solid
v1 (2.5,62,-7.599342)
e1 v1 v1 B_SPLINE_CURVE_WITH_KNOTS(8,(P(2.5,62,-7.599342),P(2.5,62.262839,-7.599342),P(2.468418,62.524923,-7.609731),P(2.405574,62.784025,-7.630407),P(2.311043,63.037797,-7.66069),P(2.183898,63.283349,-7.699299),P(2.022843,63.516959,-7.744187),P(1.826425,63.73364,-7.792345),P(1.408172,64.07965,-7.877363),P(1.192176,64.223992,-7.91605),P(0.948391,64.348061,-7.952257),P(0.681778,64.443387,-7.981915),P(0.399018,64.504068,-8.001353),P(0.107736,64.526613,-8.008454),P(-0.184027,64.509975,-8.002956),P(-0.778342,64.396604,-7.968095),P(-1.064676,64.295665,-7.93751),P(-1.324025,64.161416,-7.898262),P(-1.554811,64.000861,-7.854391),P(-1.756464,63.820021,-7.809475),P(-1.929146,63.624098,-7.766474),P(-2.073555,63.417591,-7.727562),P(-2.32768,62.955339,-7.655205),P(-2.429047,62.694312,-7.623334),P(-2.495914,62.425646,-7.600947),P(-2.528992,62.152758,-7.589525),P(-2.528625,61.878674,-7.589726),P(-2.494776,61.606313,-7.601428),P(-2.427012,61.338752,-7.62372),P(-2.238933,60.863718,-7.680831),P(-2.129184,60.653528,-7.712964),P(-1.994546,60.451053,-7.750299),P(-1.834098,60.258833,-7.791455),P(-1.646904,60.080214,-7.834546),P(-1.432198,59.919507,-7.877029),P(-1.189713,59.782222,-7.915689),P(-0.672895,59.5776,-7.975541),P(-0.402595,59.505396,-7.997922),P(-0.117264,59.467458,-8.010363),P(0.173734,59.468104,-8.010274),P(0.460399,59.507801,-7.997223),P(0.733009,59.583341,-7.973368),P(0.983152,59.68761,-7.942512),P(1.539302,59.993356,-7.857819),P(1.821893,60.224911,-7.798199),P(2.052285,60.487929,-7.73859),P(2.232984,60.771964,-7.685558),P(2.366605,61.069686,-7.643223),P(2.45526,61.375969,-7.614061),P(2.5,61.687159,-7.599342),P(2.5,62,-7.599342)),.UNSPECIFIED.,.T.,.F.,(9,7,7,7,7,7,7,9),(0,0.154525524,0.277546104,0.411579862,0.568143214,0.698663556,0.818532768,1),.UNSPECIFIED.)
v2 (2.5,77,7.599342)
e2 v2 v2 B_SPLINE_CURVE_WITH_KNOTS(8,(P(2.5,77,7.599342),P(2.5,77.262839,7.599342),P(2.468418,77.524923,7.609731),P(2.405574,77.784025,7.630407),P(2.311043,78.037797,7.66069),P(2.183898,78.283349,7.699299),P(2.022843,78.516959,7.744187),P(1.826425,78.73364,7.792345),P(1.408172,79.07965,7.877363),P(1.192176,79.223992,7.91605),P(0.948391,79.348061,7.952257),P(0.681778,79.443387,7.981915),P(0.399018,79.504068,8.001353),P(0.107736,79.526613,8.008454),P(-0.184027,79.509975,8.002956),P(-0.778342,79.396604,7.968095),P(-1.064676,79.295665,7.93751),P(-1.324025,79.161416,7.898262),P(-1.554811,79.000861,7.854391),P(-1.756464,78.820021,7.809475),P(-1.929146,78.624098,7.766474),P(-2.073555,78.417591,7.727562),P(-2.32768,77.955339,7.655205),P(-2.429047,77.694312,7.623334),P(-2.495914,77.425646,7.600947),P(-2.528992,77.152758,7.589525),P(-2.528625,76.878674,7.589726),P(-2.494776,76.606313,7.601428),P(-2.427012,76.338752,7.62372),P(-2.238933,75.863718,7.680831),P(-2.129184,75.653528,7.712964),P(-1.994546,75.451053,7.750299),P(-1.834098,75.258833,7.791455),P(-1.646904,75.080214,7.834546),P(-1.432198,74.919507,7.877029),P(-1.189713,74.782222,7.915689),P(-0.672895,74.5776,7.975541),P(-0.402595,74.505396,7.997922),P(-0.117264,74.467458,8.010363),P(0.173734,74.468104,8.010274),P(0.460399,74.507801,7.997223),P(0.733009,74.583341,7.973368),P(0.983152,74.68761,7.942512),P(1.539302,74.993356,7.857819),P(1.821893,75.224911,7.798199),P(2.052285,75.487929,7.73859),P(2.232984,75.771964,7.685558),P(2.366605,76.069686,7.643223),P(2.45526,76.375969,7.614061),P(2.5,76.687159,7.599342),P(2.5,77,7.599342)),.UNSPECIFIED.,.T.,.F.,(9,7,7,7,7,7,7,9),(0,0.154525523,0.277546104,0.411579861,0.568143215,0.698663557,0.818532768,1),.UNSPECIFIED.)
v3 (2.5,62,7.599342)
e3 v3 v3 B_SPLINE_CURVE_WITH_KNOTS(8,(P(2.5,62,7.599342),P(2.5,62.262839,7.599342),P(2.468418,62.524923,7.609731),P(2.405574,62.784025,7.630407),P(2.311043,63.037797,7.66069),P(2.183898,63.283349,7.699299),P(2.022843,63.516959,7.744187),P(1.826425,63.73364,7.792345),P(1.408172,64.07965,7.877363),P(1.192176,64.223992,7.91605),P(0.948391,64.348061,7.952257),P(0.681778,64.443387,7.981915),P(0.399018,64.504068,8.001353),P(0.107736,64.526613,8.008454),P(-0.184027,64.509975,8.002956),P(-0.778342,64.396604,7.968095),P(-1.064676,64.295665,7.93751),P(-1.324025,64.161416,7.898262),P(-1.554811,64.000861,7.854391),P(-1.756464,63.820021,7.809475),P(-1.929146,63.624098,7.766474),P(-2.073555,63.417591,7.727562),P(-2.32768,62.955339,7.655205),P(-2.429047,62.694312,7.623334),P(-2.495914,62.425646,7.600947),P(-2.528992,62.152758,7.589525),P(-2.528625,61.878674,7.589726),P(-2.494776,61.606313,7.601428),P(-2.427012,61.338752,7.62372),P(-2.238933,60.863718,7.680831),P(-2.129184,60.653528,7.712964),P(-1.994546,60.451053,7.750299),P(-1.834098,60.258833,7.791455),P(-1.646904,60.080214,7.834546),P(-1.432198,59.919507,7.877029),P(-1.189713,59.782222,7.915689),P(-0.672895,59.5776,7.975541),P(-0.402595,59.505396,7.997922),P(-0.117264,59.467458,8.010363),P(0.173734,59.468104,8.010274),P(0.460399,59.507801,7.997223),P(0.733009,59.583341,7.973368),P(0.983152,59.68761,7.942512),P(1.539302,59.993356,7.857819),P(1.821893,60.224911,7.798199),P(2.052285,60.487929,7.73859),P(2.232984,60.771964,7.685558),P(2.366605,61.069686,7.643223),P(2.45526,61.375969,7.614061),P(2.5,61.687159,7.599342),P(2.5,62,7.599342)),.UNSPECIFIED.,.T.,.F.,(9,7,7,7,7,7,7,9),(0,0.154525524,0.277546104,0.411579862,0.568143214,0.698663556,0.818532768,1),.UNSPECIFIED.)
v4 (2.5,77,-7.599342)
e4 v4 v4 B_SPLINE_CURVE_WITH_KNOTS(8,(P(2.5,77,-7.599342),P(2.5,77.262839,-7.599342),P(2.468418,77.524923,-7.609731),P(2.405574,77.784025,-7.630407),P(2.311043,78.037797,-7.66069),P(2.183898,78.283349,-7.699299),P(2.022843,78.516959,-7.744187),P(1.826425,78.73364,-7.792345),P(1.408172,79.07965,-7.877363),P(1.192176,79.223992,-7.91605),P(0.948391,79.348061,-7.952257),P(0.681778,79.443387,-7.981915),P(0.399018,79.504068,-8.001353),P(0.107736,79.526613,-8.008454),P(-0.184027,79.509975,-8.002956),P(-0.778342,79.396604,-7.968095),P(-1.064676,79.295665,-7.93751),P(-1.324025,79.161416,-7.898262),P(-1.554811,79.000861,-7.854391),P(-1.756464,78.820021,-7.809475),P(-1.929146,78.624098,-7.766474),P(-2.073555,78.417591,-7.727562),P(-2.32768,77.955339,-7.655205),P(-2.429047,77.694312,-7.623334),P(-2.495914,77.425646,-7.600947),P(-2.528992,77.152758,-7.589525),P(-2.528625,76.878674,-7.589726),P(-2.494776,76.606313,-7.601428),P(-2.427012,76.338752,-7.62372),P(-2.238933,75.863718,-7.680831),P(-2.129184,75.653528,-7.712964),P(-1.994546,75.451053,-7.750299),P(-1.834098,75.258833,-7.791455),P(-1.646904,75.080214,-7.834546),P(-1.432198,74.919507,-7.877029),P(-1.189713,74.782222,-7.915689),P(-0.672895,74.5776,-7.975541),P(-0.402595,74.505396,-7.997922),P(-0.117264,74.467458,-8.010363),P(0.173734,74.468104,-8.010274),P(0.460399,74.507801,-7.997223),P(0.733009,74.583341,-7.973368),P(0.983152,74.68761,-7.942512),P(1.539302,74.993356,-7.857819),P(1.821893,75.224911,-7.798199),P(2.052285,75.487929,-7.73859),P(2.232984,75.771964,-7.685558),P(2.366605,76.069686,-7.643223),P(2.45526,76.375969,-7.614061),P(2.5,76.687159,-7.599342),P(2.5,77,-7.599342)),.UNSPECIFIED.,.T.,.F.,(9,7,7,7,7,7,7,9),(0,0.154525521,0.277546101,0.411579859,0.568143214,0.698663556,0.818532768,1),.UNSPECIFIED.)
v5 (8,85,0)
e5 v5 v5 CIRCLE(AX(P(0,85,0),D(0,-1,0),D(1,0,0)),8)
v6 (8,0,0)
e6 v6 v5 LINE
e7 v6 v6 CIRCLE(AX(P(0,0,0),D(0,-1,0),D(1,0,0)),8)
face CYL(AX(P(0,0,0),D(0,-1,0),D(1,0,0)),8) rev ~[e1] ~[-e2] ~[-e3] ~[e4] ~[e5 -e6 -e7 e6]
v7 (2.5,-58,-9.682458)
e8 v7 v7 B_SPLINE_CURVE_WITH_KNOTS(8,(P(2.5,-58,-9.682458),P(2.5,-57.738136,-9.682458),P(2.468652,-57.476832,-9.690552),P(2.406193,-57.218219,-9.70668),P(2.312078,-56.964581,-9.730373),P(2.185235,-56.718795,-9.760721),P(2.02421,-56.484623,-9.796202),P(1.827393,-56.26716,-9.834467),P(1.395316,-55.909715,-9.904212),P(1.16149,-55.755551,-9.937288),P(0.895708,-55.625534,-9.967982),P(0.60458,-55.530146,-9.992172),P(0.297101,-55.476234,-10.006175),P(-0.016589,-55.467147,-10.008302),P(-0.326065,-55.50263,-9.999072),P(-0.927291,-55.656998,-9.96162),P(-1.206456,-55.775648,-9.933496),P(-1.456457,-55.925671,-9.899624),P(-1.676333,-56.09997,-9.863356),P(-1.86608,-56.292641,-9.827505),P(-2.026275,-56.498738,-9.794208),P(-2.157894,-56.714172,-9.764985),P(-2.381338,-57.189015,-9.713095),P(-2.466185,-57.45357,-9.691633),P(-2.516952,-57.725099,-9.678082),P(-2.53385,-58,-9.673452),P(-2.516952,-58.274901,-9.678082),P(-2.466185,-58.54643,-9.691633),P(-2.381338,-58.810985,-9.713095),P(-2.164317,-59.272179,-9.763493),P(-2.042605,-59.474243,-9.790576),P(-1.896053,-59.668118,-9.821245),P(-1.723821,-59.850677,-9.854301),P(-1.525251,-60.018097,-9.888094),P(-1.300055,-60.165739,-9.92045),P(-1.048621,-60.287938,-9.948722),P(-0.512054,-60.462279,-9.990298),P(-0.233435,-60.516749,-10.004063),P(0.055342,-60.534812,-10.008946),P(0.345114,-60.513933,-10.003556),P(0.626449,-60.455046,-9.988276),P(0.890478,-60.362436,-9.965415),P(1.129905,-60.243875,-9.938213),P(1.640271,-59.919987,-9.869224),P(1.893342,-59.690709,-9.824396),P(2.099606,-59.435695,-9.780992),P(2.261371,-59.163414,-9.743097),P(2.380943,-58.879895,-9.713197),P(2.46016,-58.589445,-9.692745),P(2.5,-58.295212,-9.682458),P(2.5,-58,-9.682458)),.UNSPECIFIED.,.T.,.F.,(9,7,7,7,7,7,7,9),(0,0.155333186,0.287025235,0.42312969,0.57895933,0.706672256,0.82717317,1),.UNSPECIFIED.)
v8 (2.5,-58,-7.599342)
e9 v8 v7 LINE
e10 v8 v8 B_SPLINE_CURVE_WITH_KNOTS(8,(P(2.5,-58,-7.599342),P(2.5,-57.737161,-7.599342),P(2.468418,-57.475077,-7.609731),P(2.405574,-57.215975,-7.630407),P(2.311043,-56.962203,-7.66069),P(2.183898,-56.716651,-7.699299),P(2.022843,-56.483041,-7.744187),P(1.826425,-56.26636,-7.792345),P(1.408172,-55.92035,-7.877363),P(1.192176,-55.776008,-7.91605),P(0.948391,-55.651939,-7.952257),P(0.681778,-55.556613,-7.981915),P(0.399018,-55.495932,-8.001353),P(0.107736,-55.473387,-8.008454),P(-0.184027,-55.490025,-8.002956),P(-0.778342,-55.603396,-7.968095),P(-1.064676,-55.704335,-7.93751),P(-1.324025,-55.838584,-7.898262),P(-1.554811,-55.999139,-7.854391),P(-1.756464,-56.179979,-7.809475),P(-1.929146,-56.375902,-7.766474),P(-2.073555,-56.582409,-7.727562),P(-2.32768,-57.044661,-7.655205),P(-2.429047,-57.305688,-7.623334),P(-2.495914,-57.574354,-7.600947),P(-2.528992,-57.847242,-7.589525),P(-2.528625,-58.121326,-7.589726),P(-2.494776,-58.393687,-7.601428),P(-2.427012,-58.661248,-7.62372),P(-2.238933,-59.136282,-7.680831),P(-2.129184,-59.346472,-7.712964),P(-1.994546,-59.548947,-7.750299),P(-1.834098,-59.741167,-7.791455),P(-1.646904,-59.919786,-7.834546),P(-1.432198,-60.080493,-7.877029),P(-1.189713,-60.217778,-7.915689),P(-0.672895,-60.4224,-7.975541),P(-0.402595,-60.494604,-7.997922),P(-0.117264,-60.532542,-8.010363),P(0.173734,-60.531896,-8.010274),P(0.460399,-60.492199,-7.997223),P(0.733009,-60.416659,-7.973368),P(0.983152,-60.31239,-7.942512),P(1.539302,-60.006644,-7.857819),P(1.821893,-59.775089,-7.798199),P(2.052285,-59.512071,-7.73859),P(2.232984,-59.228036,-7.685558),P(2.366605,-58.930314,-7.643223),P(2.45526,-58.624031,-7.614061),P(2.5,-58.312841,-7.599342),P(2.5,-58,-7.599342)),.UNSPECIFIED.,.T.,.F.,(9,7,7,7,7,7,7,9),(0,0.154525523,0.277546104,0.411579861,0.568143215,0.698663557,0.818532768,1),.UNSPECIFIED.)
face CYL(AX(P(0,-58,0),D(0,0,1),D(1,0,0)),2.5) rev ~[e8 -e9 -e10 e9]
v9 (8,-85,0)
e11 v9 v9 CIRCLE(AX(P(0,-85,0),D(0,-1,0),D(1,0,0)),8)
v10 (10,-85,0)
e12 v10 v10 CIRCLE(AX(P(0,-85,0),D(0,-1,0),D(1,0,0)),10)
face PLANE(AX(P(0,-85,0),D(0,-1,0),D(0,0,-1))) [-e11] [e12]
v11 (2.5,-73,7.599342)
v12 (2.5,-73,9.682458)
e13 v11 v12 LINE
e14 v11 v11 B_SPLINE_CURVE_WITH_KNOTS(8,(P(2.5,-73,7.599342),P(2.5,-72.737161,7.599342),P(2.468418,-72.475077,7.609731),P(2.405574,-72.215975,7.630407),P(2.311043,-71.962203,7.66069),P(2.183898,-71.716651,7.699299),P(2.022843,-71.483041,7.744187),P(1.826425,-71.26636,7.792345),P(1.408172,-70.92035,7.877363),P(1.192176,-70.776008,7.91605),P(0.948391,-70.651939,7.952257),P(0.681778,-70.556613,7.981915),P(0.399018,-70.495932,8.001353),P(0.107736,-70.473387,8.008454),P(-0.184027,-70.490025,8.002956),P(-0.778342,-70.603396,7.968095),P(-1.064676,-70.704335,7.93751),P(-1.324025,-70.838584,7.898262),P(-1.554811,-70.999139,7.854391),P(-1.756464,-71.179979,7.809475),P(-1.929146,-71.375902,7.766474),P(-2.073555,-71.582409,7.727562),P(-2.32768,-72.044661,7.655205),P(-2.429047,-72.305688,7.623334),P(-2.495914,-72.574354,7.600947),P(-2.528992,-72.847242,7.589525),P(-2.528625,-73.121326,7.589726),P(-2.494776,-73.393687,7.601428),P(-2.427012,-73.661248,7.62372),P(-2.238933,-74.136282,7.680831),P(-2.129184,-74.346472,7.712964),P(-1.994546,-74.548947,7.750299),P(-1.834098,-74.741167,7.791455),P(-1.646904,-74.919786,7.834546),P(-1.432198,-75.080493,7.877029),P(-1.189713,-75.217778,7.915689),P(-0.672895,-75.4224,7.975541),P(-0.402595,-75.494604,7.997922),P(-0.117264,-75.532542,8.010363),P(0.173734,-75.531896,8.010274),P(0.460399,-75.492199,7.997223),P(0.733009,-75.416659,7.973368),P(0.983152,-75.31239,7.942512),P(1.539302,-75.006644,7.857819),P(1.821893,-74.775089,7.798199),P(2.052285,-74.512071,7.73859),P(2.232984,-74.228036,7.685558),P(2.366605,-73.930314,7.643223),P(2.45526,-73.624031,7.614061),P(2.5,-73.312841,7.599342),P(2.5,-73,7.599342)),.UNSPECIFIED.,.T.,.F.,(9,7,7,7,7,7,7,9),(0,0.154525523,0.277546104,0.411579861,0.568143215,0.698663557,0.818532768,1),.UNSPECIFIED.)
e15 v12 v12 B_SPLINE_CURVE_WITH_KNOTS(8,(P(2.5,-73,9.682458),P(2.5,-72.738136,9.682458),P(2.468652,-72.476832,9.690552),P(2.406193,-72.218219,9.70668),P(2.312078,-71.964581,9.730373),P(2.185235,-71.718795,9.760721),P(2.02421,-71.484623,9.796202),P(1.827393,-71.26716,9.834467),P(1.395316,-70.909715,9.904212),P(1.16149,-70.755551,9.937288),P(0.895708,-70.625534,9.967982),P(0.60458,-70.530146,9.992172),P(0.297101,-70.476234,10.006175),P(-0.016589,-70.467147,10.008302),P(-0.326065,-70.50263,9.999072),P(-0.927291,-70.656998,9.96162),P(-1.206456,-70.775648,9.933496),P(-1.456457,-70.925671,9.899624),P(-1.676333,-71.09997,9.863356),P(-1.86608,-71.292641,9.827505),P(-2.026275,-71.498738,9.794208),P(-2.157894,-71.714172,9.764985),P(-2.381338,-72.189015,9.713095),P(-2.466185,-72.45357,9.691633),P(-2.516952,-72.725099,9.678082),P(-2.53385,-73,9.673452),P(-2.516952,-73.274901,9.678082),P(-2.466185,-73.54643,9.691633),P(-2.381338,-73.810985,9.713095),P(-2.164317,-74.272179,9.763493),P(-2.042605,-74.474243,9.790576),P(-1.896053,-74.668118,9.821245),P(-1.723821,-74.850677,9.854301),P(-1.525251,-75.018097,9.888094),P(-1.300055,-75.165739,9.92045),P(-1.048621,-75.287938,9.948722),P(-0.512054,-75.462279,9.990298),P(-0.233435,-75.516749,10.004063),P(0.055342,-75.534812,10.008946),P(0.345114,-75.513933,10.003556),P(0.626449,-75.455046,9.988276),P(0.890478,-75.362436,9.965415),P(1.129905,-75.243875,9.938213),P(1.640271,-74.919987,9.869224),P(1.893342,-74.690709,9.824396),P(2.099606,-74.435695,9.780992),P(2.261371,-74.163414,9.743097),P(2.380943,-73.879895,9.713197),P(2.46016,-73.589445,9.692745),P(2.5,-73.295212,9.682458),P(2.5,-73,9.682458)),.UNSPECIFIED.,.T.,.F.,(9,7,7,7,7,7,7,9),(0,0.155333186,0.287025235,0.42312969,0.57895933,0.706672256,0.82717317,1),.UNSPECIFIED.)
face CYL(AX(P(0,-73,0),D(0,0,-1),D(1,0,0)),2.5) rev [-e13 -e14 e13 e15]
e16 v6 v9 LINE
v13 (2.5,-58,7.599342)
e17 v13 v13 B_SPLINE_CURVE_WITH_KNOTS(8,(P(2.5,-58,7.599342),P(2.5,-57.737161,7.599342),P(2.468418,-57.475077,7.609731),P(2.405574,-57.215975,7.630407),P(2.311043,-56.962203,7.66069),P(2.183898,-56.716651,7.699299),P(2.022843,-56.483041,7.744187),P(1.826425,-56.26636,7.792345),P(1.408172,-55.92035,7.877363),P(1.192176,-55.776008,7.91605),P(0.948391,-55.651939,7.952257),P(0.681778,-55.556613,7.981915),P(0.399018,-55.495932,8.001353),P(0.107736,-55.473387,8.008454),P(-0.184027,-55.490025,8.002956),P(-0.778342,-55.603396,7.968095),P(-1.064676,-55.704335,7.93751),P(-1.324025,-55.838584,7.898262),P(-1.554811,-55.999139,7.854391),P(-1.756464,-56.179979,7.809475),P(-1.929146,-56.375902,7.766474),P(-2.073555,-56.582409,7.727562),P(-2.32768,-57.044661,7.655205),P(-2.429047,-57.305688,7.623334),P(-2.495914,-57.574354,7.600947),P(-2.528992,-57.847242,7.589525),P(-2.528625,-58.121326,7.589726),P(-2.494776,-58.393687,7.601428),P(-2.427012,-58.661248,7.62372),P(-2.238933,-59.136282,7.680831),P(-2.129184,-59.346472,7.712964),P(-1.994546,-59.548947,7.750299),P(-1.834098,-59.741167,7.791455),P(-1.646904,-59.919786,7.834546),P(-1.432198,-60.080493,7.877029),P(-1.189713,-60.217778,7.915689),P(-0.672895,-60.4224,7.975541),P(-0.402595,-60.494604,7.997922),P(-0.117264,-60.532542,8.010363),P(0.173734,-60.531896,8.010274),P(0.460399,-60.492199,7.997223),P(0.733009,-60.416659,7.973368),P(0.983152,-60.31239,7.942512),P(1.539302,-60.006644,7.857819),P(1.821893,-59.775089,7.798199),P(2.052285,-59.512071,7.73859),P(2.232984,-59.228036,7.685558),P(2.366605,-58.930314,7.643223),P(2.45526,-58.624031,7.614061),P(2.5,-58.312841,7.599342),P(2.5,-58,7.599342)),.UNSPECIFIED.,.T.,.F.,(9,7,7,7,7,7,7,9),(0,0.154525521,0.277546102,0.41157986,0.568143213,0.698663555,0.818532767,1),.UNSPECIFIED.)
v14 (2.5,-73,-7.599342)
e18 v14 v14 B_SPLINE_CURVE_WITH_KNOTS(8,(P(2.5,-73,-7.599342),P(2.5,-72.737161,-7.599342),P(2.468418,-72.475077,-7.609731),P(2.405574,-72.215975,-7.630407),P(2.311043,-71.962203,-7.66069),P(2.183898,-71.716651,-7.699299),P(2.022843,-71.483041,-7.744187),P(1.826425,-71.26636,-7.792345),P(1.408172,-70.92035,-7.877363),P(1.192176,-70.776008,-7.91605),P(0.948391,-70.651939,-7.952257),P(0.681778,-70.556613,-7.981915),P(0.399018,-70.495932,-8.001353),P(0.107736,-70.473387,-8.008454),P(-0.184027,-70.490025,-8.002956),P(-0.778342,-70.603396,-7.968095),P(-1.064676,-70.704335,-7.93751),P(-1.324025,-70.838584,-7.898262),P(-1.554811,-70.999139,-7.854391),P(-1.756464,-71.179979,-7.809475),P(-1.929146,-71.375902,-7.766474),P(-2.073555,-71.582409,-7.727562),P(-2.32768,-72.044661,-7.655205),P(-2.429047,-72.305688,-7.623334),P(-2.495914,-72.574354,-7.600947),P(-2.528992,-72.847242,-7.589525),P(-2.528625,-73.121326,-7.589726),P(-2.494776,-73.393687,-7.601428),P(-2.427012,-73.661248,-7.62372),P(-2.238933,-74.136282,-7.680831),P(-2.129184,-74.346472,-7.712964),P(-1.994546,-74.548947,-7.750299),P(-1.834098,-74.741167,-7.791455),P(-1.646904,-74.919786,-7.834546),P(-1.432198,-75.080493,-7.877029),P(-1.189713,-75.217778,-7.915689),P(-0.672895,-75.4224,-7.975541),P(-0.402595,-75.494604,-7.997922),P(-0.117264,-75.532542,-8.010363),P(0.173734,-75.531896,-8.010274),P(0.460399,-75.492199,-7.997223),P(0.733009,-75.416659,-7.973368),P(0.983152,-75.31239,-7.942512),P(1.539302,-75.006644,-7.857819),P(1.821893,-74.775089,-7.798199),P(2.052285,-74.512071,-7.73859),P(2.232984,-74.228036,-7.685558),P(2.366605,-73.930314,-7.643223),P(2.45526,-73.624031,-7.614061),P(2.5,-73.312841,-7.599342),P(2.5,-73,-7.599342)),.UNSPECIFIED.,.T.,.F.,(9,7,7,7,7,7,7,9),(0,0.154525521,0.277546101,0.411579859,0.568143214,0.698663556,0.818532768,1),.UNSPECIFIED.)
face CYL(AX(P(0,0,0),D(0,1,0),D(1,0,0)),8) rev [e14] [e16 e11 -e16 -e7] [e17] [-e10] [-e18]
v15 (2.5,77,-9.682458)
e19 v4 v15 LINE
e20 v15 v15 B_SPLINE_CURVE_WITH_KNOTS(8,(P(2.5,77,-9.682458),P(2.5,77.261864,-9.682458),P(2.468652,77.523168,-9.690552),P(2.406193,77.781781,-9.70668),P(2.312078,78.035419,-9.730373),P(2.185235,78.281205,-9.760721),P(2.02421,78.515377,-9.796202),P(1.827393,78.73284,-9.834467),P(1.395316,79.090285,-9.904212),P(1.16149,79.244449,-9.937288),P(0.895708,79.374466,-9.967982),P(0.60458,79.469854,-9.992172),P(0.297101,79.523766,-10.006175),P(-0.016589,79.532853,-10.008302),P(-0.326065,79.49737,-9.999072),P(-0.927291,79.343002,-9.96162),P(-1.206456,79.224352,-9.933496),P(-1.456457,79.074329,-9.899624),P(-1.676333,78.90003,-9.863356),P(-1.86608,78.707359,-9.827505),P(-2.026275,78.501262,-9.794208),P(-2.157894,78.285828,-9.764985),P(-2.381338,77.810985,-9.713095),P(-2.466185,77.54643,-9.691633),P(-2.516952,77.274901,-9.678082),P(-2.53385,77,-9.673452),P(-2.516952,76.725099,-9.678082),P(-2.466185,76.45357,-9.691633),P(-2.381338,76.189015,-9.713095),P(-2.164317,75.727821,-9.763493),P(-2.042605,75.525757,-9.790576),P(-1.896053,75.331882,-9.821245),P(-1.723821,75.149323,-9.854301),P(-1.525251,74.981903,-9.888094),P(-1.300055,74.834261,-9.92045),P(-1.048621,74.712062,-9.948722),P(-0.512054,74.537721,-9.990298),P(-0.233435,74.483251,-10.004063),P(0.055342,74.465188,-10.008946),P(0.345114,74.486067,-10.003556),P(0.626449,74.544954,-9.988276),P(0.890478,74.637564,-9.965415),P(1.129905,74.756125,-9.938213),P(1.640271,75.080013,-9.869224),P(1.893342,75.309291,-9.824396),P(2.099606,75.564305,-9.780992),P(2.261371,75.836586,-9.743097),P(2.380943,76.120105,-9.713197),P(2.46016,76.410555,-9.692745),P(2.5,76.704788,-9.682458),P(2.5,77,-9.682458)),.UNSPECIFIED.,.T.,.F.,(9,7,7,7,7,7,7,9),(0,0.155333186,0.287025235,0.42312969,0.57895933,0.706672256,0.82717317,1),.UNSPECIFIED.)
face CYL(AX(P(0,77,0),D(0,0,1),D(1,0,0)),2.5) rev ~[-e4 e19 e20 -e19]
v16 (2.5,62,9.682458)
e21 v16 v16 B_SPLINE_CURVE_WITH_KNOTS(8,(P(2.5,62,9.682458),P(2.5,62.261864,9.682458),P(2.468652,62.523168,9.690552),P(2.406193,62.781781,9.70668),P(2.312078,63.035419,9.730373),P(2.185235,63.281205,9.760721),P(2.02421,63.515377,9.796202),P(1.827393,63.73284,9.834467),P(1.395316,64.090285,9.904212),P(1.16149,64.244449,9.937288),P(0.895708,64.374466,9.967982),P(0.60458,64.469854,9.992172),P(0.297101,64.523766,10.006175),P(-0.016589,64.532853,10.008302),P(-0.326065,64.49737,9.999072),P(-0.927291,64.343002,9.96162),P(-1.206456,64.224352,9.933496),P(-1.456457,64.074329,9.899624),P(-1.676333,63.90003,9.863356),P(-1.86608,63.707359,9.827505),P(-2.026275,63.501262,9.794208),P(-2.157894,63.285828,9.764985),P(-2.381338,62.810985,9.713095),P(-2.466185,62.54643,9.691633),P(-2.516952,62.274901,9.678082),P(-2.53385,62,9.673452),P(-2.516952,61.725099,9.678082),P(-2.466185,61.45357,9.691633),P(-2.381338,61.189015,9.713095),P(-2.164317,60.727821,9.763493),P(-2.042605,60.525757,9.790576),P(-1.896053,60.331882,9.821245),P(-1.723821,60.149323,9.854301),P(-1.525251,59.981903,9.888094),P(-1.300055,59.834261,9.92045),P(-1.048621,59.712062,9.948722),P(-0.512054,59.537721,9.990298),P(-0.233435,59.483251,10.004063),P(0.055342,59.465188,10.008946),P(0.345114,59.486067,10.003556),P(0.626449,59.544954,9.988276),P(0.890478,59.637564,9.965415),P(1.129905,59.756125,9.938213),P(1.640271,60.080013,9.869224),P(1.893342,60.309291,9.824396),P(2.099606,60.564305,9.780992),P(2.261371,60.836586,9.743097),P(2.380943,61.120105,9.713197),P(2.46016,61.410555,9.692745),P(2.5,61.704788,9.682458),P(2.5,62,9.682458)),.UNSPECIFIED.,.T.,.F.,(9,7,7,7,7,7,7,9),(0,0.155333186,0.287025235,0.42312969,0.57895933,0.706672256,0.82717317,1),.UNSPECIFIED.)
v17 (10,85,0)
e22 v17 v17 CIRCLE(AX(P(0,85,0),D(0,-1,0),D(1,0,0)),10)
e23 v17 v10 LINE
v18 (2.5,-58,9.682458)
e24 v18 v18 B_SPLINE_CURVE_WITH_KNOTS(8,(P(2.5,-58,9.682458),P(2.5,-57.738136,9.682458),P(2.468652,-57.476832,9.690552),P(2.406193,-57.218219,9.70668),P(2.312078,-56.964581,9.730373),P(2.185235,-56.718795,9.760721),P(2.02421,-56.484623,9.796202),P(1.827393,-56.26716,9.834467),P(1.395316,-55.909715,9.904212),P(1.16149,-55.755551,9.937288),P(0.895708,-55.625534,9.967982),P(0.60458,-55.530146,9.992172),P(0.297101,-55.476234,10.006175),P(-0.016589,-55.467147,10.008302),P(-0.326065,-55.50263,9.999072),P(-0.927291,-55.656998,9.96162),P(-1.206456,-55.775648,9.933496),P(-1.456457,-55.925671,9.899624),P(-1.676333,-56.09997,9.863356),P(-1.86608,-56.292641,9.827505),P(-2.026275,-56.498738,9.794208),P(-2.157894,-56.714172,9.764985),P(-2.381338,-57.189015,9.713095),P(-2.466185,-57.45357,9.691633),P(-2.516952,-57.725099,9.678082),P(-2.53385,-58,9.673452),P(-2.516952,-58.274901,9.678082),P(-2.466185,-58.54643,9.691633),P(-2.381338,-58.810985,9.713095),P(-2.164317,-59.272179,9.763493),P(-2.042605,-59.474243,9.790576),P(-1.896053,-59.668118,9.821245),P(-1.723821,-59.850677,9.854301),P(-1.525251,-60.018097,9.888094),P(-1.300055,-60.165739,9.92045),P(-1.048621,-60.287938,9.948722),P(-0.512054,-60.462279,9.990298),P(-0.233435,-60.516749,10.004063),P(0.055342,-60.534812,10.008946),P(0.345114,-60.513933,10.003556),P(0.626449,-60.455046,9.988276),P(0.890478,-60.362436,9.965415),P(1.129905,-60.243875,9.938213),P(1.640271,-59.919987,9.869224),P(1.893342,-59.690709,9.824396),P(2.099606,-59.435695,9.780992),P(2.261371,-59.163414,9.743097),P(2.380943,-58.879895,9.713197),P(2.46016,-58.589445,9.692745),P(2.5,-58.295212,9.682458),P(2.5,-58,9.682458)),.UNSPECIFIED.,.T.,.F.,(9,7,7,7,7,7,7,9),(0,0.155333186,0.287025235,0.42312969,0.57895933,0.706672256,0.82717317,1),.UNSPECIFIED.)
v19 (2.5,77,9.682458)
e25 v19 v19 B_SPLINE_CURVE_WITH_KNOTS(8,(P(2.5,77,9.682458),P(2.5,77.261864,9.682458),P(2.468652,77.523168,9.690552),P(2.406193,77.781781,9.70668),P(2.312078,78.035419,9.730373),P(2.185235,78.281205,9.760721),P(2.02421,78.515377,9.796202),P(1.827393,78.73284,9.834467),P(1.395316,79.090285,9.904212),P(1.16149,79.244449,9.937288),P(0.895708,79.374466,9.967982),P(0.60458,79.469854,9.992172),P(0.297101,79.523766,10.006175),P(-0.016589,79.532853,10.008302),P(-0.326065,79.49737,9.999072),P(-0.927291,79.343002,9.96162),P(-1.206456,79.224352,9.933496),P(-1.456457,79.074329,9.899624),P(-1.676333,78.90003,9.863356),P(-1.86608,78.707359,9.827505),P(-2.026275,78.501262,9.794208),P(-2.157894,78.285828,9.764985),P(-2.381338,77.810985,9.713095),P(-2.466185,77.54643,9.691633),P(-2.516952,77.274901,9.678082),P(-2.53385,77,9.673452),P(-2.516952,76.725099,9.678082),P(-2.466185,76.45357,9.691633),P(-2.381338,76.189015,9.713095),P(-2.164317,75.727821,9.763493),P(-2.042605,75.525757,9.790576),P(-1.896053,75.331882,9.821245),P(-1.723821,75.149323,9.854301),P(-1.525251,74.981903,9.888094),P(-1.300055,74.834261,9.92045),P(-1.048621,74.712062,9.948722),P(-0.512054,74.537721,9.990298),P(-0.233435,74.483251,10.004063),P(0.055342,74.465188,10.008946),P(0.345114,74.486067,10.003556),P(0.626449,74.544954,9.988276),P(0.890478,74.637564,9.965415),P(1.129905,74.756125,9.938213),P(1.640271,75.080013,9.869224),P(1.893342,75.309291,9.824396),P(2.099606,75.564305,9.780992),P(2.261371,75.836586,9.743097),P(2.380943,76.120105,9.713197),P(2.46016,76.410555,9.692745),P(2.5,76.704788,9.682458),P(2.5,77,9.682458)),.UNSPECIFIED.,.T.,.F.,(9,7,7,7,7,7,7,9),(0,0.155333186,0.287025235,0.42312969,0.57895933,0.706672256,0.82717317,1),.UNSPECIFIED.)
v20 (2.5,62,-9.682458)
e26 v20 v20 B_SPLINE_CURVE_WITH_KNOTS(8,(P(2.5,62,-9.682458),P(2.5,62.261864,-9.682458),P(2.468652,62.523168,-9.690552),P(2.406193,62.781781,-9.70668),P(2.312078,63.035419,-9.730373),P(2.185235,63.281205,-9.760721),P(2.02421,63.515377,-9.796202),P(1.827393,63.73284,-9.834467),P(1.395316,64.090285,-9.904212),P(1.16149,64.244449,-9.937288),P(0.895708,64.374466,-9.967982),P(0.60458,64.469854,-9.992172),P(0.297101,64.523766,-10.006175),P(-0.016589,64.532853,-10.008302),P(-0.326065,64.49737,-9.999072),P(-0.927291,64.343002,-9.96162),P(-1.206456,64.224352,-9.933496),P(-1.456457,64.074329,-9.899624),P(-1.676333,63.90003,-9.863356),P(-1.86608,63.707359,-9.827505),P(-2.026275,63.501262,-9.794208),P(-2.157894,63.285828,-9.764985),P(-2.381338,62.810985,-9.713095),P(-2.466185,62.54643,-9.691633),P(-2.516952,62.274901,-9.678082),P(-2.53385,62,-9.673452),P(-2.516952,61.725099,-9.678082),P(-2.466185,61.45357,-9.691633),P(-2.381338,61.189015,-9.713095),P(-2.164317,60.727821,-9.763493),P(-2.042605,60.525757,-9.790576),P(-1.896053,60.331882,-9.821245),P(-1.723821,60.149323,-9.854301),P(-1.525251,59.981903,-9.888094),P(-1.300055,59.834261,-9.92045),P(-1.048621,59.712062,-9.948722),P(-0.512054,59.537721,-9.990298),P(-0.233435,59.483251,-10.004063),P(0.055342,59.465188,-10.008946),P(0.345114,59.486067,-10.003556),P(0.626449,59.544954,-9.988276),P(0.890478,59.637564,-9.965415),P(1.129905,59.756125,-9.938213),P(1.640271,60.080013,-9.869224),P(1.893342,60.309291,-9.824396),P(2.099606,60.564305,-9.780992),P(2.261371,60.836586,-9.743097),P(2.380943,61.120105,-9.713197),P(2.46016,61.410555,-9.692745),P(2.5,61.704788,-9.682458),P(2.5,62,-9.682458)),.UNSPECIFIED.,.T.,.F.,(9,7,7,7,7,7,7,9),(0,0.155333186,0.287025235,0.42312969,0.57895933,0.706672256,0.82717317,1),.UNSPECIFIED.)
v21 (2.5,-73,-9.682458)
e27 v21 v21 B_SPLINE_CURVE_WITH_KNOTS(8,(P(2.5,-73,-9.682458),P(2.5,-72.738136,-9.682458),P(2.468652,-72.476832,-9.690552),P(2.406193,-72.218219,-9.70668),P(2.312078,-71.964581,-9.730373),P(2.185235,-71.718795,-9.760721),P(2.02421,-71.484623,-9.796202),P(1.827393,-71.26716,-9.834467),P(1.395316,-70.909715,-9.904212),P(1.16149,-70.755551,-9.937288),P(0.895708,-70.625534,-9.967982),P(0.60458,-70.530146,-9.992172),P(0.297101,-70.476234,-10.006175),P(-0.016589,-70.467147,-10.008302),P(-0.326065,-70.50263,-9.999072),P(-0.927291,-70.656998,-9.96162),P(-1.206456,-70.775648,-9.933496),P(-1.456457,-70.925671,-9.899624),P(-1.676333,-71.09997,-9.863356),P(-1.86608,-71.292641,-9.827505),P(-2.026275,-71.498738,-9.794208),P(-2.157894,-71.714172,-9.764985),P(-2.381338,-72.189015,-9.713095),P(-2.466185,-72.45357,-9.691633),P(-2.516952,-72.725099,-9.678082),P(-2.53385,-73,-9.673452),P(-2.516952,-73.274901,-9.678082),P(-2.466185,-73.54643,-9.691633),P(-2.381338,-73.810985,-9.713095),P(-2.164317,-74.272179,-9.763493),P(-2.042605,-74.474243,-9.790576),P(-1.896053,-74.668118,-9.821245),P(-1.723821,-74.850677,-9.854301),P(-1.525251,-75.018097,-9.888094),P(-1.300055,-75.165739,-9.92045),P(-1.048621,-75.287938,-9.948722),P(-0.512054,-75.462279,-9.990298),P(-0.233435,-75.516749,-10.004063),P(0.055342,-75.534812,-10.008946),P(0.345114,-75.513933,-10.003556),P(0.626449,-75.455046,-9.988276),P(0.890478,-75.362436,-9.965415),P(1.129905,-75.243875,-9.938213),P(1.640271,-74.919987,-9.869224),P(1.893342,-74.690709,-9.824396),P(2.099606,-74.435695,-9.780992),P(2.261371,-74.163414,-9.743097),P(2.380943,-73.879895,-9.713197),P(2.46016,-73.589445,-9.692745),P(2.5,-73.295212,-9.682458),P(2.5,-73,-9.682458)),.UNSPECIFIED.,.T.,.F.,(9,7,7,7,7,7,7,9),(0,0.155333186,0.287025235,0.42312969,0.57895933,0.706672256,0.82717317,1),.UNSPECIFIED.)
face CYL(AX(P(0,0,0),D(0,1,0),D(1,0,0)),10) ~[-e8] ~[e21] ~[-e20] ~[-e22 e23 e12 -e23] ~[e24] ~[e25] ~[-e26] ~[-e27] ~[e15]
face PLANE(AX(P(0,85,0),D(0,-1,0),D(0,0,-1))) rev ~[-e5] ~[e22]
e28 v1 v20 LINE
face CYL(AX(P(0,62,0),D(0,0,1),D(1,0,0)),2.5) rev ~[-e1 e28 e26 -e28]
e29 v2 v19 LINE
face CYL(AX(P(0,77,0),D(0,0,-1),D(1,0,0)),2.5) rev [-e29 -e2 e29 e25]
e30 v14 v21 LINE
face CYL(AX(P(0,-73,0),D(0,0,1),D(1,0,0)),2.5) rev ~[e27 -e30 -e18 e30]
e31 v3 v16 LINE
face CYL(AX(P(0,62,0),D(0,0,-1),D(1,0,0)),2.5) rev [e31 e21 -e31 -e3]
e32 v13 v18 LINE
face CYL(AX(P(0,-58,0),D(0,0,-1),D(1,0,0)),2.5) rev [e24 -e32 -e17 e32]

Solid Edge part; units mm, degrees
sketch "Sketch1" plane through (0, 0, 0) normal (0, -1, 0) x (1, 0, 0)
  circle A0 centre (0, 0) radius 10
  circle A1 centre (0, 0) radius 8
extrude "Protrusion1" add sketch "Sketch1" along normal mid plane 170
sketch "Sketch2" plane through (0, 0, 0) normal (0, 0, 1) x (1, 0, 0)
  circle A0 centre (0, -73) radius 2.5
  circle A1 centre (0, -58) radius 2.5
  circle A2 centre (0, 77) radius 2.5
  circle A3 centre (0, 62) radius 2.5
extrude "ExtrudedCutout_1" cut sketch "Sketch2" along normal mid plane 325.0188
properties material "PVC"
